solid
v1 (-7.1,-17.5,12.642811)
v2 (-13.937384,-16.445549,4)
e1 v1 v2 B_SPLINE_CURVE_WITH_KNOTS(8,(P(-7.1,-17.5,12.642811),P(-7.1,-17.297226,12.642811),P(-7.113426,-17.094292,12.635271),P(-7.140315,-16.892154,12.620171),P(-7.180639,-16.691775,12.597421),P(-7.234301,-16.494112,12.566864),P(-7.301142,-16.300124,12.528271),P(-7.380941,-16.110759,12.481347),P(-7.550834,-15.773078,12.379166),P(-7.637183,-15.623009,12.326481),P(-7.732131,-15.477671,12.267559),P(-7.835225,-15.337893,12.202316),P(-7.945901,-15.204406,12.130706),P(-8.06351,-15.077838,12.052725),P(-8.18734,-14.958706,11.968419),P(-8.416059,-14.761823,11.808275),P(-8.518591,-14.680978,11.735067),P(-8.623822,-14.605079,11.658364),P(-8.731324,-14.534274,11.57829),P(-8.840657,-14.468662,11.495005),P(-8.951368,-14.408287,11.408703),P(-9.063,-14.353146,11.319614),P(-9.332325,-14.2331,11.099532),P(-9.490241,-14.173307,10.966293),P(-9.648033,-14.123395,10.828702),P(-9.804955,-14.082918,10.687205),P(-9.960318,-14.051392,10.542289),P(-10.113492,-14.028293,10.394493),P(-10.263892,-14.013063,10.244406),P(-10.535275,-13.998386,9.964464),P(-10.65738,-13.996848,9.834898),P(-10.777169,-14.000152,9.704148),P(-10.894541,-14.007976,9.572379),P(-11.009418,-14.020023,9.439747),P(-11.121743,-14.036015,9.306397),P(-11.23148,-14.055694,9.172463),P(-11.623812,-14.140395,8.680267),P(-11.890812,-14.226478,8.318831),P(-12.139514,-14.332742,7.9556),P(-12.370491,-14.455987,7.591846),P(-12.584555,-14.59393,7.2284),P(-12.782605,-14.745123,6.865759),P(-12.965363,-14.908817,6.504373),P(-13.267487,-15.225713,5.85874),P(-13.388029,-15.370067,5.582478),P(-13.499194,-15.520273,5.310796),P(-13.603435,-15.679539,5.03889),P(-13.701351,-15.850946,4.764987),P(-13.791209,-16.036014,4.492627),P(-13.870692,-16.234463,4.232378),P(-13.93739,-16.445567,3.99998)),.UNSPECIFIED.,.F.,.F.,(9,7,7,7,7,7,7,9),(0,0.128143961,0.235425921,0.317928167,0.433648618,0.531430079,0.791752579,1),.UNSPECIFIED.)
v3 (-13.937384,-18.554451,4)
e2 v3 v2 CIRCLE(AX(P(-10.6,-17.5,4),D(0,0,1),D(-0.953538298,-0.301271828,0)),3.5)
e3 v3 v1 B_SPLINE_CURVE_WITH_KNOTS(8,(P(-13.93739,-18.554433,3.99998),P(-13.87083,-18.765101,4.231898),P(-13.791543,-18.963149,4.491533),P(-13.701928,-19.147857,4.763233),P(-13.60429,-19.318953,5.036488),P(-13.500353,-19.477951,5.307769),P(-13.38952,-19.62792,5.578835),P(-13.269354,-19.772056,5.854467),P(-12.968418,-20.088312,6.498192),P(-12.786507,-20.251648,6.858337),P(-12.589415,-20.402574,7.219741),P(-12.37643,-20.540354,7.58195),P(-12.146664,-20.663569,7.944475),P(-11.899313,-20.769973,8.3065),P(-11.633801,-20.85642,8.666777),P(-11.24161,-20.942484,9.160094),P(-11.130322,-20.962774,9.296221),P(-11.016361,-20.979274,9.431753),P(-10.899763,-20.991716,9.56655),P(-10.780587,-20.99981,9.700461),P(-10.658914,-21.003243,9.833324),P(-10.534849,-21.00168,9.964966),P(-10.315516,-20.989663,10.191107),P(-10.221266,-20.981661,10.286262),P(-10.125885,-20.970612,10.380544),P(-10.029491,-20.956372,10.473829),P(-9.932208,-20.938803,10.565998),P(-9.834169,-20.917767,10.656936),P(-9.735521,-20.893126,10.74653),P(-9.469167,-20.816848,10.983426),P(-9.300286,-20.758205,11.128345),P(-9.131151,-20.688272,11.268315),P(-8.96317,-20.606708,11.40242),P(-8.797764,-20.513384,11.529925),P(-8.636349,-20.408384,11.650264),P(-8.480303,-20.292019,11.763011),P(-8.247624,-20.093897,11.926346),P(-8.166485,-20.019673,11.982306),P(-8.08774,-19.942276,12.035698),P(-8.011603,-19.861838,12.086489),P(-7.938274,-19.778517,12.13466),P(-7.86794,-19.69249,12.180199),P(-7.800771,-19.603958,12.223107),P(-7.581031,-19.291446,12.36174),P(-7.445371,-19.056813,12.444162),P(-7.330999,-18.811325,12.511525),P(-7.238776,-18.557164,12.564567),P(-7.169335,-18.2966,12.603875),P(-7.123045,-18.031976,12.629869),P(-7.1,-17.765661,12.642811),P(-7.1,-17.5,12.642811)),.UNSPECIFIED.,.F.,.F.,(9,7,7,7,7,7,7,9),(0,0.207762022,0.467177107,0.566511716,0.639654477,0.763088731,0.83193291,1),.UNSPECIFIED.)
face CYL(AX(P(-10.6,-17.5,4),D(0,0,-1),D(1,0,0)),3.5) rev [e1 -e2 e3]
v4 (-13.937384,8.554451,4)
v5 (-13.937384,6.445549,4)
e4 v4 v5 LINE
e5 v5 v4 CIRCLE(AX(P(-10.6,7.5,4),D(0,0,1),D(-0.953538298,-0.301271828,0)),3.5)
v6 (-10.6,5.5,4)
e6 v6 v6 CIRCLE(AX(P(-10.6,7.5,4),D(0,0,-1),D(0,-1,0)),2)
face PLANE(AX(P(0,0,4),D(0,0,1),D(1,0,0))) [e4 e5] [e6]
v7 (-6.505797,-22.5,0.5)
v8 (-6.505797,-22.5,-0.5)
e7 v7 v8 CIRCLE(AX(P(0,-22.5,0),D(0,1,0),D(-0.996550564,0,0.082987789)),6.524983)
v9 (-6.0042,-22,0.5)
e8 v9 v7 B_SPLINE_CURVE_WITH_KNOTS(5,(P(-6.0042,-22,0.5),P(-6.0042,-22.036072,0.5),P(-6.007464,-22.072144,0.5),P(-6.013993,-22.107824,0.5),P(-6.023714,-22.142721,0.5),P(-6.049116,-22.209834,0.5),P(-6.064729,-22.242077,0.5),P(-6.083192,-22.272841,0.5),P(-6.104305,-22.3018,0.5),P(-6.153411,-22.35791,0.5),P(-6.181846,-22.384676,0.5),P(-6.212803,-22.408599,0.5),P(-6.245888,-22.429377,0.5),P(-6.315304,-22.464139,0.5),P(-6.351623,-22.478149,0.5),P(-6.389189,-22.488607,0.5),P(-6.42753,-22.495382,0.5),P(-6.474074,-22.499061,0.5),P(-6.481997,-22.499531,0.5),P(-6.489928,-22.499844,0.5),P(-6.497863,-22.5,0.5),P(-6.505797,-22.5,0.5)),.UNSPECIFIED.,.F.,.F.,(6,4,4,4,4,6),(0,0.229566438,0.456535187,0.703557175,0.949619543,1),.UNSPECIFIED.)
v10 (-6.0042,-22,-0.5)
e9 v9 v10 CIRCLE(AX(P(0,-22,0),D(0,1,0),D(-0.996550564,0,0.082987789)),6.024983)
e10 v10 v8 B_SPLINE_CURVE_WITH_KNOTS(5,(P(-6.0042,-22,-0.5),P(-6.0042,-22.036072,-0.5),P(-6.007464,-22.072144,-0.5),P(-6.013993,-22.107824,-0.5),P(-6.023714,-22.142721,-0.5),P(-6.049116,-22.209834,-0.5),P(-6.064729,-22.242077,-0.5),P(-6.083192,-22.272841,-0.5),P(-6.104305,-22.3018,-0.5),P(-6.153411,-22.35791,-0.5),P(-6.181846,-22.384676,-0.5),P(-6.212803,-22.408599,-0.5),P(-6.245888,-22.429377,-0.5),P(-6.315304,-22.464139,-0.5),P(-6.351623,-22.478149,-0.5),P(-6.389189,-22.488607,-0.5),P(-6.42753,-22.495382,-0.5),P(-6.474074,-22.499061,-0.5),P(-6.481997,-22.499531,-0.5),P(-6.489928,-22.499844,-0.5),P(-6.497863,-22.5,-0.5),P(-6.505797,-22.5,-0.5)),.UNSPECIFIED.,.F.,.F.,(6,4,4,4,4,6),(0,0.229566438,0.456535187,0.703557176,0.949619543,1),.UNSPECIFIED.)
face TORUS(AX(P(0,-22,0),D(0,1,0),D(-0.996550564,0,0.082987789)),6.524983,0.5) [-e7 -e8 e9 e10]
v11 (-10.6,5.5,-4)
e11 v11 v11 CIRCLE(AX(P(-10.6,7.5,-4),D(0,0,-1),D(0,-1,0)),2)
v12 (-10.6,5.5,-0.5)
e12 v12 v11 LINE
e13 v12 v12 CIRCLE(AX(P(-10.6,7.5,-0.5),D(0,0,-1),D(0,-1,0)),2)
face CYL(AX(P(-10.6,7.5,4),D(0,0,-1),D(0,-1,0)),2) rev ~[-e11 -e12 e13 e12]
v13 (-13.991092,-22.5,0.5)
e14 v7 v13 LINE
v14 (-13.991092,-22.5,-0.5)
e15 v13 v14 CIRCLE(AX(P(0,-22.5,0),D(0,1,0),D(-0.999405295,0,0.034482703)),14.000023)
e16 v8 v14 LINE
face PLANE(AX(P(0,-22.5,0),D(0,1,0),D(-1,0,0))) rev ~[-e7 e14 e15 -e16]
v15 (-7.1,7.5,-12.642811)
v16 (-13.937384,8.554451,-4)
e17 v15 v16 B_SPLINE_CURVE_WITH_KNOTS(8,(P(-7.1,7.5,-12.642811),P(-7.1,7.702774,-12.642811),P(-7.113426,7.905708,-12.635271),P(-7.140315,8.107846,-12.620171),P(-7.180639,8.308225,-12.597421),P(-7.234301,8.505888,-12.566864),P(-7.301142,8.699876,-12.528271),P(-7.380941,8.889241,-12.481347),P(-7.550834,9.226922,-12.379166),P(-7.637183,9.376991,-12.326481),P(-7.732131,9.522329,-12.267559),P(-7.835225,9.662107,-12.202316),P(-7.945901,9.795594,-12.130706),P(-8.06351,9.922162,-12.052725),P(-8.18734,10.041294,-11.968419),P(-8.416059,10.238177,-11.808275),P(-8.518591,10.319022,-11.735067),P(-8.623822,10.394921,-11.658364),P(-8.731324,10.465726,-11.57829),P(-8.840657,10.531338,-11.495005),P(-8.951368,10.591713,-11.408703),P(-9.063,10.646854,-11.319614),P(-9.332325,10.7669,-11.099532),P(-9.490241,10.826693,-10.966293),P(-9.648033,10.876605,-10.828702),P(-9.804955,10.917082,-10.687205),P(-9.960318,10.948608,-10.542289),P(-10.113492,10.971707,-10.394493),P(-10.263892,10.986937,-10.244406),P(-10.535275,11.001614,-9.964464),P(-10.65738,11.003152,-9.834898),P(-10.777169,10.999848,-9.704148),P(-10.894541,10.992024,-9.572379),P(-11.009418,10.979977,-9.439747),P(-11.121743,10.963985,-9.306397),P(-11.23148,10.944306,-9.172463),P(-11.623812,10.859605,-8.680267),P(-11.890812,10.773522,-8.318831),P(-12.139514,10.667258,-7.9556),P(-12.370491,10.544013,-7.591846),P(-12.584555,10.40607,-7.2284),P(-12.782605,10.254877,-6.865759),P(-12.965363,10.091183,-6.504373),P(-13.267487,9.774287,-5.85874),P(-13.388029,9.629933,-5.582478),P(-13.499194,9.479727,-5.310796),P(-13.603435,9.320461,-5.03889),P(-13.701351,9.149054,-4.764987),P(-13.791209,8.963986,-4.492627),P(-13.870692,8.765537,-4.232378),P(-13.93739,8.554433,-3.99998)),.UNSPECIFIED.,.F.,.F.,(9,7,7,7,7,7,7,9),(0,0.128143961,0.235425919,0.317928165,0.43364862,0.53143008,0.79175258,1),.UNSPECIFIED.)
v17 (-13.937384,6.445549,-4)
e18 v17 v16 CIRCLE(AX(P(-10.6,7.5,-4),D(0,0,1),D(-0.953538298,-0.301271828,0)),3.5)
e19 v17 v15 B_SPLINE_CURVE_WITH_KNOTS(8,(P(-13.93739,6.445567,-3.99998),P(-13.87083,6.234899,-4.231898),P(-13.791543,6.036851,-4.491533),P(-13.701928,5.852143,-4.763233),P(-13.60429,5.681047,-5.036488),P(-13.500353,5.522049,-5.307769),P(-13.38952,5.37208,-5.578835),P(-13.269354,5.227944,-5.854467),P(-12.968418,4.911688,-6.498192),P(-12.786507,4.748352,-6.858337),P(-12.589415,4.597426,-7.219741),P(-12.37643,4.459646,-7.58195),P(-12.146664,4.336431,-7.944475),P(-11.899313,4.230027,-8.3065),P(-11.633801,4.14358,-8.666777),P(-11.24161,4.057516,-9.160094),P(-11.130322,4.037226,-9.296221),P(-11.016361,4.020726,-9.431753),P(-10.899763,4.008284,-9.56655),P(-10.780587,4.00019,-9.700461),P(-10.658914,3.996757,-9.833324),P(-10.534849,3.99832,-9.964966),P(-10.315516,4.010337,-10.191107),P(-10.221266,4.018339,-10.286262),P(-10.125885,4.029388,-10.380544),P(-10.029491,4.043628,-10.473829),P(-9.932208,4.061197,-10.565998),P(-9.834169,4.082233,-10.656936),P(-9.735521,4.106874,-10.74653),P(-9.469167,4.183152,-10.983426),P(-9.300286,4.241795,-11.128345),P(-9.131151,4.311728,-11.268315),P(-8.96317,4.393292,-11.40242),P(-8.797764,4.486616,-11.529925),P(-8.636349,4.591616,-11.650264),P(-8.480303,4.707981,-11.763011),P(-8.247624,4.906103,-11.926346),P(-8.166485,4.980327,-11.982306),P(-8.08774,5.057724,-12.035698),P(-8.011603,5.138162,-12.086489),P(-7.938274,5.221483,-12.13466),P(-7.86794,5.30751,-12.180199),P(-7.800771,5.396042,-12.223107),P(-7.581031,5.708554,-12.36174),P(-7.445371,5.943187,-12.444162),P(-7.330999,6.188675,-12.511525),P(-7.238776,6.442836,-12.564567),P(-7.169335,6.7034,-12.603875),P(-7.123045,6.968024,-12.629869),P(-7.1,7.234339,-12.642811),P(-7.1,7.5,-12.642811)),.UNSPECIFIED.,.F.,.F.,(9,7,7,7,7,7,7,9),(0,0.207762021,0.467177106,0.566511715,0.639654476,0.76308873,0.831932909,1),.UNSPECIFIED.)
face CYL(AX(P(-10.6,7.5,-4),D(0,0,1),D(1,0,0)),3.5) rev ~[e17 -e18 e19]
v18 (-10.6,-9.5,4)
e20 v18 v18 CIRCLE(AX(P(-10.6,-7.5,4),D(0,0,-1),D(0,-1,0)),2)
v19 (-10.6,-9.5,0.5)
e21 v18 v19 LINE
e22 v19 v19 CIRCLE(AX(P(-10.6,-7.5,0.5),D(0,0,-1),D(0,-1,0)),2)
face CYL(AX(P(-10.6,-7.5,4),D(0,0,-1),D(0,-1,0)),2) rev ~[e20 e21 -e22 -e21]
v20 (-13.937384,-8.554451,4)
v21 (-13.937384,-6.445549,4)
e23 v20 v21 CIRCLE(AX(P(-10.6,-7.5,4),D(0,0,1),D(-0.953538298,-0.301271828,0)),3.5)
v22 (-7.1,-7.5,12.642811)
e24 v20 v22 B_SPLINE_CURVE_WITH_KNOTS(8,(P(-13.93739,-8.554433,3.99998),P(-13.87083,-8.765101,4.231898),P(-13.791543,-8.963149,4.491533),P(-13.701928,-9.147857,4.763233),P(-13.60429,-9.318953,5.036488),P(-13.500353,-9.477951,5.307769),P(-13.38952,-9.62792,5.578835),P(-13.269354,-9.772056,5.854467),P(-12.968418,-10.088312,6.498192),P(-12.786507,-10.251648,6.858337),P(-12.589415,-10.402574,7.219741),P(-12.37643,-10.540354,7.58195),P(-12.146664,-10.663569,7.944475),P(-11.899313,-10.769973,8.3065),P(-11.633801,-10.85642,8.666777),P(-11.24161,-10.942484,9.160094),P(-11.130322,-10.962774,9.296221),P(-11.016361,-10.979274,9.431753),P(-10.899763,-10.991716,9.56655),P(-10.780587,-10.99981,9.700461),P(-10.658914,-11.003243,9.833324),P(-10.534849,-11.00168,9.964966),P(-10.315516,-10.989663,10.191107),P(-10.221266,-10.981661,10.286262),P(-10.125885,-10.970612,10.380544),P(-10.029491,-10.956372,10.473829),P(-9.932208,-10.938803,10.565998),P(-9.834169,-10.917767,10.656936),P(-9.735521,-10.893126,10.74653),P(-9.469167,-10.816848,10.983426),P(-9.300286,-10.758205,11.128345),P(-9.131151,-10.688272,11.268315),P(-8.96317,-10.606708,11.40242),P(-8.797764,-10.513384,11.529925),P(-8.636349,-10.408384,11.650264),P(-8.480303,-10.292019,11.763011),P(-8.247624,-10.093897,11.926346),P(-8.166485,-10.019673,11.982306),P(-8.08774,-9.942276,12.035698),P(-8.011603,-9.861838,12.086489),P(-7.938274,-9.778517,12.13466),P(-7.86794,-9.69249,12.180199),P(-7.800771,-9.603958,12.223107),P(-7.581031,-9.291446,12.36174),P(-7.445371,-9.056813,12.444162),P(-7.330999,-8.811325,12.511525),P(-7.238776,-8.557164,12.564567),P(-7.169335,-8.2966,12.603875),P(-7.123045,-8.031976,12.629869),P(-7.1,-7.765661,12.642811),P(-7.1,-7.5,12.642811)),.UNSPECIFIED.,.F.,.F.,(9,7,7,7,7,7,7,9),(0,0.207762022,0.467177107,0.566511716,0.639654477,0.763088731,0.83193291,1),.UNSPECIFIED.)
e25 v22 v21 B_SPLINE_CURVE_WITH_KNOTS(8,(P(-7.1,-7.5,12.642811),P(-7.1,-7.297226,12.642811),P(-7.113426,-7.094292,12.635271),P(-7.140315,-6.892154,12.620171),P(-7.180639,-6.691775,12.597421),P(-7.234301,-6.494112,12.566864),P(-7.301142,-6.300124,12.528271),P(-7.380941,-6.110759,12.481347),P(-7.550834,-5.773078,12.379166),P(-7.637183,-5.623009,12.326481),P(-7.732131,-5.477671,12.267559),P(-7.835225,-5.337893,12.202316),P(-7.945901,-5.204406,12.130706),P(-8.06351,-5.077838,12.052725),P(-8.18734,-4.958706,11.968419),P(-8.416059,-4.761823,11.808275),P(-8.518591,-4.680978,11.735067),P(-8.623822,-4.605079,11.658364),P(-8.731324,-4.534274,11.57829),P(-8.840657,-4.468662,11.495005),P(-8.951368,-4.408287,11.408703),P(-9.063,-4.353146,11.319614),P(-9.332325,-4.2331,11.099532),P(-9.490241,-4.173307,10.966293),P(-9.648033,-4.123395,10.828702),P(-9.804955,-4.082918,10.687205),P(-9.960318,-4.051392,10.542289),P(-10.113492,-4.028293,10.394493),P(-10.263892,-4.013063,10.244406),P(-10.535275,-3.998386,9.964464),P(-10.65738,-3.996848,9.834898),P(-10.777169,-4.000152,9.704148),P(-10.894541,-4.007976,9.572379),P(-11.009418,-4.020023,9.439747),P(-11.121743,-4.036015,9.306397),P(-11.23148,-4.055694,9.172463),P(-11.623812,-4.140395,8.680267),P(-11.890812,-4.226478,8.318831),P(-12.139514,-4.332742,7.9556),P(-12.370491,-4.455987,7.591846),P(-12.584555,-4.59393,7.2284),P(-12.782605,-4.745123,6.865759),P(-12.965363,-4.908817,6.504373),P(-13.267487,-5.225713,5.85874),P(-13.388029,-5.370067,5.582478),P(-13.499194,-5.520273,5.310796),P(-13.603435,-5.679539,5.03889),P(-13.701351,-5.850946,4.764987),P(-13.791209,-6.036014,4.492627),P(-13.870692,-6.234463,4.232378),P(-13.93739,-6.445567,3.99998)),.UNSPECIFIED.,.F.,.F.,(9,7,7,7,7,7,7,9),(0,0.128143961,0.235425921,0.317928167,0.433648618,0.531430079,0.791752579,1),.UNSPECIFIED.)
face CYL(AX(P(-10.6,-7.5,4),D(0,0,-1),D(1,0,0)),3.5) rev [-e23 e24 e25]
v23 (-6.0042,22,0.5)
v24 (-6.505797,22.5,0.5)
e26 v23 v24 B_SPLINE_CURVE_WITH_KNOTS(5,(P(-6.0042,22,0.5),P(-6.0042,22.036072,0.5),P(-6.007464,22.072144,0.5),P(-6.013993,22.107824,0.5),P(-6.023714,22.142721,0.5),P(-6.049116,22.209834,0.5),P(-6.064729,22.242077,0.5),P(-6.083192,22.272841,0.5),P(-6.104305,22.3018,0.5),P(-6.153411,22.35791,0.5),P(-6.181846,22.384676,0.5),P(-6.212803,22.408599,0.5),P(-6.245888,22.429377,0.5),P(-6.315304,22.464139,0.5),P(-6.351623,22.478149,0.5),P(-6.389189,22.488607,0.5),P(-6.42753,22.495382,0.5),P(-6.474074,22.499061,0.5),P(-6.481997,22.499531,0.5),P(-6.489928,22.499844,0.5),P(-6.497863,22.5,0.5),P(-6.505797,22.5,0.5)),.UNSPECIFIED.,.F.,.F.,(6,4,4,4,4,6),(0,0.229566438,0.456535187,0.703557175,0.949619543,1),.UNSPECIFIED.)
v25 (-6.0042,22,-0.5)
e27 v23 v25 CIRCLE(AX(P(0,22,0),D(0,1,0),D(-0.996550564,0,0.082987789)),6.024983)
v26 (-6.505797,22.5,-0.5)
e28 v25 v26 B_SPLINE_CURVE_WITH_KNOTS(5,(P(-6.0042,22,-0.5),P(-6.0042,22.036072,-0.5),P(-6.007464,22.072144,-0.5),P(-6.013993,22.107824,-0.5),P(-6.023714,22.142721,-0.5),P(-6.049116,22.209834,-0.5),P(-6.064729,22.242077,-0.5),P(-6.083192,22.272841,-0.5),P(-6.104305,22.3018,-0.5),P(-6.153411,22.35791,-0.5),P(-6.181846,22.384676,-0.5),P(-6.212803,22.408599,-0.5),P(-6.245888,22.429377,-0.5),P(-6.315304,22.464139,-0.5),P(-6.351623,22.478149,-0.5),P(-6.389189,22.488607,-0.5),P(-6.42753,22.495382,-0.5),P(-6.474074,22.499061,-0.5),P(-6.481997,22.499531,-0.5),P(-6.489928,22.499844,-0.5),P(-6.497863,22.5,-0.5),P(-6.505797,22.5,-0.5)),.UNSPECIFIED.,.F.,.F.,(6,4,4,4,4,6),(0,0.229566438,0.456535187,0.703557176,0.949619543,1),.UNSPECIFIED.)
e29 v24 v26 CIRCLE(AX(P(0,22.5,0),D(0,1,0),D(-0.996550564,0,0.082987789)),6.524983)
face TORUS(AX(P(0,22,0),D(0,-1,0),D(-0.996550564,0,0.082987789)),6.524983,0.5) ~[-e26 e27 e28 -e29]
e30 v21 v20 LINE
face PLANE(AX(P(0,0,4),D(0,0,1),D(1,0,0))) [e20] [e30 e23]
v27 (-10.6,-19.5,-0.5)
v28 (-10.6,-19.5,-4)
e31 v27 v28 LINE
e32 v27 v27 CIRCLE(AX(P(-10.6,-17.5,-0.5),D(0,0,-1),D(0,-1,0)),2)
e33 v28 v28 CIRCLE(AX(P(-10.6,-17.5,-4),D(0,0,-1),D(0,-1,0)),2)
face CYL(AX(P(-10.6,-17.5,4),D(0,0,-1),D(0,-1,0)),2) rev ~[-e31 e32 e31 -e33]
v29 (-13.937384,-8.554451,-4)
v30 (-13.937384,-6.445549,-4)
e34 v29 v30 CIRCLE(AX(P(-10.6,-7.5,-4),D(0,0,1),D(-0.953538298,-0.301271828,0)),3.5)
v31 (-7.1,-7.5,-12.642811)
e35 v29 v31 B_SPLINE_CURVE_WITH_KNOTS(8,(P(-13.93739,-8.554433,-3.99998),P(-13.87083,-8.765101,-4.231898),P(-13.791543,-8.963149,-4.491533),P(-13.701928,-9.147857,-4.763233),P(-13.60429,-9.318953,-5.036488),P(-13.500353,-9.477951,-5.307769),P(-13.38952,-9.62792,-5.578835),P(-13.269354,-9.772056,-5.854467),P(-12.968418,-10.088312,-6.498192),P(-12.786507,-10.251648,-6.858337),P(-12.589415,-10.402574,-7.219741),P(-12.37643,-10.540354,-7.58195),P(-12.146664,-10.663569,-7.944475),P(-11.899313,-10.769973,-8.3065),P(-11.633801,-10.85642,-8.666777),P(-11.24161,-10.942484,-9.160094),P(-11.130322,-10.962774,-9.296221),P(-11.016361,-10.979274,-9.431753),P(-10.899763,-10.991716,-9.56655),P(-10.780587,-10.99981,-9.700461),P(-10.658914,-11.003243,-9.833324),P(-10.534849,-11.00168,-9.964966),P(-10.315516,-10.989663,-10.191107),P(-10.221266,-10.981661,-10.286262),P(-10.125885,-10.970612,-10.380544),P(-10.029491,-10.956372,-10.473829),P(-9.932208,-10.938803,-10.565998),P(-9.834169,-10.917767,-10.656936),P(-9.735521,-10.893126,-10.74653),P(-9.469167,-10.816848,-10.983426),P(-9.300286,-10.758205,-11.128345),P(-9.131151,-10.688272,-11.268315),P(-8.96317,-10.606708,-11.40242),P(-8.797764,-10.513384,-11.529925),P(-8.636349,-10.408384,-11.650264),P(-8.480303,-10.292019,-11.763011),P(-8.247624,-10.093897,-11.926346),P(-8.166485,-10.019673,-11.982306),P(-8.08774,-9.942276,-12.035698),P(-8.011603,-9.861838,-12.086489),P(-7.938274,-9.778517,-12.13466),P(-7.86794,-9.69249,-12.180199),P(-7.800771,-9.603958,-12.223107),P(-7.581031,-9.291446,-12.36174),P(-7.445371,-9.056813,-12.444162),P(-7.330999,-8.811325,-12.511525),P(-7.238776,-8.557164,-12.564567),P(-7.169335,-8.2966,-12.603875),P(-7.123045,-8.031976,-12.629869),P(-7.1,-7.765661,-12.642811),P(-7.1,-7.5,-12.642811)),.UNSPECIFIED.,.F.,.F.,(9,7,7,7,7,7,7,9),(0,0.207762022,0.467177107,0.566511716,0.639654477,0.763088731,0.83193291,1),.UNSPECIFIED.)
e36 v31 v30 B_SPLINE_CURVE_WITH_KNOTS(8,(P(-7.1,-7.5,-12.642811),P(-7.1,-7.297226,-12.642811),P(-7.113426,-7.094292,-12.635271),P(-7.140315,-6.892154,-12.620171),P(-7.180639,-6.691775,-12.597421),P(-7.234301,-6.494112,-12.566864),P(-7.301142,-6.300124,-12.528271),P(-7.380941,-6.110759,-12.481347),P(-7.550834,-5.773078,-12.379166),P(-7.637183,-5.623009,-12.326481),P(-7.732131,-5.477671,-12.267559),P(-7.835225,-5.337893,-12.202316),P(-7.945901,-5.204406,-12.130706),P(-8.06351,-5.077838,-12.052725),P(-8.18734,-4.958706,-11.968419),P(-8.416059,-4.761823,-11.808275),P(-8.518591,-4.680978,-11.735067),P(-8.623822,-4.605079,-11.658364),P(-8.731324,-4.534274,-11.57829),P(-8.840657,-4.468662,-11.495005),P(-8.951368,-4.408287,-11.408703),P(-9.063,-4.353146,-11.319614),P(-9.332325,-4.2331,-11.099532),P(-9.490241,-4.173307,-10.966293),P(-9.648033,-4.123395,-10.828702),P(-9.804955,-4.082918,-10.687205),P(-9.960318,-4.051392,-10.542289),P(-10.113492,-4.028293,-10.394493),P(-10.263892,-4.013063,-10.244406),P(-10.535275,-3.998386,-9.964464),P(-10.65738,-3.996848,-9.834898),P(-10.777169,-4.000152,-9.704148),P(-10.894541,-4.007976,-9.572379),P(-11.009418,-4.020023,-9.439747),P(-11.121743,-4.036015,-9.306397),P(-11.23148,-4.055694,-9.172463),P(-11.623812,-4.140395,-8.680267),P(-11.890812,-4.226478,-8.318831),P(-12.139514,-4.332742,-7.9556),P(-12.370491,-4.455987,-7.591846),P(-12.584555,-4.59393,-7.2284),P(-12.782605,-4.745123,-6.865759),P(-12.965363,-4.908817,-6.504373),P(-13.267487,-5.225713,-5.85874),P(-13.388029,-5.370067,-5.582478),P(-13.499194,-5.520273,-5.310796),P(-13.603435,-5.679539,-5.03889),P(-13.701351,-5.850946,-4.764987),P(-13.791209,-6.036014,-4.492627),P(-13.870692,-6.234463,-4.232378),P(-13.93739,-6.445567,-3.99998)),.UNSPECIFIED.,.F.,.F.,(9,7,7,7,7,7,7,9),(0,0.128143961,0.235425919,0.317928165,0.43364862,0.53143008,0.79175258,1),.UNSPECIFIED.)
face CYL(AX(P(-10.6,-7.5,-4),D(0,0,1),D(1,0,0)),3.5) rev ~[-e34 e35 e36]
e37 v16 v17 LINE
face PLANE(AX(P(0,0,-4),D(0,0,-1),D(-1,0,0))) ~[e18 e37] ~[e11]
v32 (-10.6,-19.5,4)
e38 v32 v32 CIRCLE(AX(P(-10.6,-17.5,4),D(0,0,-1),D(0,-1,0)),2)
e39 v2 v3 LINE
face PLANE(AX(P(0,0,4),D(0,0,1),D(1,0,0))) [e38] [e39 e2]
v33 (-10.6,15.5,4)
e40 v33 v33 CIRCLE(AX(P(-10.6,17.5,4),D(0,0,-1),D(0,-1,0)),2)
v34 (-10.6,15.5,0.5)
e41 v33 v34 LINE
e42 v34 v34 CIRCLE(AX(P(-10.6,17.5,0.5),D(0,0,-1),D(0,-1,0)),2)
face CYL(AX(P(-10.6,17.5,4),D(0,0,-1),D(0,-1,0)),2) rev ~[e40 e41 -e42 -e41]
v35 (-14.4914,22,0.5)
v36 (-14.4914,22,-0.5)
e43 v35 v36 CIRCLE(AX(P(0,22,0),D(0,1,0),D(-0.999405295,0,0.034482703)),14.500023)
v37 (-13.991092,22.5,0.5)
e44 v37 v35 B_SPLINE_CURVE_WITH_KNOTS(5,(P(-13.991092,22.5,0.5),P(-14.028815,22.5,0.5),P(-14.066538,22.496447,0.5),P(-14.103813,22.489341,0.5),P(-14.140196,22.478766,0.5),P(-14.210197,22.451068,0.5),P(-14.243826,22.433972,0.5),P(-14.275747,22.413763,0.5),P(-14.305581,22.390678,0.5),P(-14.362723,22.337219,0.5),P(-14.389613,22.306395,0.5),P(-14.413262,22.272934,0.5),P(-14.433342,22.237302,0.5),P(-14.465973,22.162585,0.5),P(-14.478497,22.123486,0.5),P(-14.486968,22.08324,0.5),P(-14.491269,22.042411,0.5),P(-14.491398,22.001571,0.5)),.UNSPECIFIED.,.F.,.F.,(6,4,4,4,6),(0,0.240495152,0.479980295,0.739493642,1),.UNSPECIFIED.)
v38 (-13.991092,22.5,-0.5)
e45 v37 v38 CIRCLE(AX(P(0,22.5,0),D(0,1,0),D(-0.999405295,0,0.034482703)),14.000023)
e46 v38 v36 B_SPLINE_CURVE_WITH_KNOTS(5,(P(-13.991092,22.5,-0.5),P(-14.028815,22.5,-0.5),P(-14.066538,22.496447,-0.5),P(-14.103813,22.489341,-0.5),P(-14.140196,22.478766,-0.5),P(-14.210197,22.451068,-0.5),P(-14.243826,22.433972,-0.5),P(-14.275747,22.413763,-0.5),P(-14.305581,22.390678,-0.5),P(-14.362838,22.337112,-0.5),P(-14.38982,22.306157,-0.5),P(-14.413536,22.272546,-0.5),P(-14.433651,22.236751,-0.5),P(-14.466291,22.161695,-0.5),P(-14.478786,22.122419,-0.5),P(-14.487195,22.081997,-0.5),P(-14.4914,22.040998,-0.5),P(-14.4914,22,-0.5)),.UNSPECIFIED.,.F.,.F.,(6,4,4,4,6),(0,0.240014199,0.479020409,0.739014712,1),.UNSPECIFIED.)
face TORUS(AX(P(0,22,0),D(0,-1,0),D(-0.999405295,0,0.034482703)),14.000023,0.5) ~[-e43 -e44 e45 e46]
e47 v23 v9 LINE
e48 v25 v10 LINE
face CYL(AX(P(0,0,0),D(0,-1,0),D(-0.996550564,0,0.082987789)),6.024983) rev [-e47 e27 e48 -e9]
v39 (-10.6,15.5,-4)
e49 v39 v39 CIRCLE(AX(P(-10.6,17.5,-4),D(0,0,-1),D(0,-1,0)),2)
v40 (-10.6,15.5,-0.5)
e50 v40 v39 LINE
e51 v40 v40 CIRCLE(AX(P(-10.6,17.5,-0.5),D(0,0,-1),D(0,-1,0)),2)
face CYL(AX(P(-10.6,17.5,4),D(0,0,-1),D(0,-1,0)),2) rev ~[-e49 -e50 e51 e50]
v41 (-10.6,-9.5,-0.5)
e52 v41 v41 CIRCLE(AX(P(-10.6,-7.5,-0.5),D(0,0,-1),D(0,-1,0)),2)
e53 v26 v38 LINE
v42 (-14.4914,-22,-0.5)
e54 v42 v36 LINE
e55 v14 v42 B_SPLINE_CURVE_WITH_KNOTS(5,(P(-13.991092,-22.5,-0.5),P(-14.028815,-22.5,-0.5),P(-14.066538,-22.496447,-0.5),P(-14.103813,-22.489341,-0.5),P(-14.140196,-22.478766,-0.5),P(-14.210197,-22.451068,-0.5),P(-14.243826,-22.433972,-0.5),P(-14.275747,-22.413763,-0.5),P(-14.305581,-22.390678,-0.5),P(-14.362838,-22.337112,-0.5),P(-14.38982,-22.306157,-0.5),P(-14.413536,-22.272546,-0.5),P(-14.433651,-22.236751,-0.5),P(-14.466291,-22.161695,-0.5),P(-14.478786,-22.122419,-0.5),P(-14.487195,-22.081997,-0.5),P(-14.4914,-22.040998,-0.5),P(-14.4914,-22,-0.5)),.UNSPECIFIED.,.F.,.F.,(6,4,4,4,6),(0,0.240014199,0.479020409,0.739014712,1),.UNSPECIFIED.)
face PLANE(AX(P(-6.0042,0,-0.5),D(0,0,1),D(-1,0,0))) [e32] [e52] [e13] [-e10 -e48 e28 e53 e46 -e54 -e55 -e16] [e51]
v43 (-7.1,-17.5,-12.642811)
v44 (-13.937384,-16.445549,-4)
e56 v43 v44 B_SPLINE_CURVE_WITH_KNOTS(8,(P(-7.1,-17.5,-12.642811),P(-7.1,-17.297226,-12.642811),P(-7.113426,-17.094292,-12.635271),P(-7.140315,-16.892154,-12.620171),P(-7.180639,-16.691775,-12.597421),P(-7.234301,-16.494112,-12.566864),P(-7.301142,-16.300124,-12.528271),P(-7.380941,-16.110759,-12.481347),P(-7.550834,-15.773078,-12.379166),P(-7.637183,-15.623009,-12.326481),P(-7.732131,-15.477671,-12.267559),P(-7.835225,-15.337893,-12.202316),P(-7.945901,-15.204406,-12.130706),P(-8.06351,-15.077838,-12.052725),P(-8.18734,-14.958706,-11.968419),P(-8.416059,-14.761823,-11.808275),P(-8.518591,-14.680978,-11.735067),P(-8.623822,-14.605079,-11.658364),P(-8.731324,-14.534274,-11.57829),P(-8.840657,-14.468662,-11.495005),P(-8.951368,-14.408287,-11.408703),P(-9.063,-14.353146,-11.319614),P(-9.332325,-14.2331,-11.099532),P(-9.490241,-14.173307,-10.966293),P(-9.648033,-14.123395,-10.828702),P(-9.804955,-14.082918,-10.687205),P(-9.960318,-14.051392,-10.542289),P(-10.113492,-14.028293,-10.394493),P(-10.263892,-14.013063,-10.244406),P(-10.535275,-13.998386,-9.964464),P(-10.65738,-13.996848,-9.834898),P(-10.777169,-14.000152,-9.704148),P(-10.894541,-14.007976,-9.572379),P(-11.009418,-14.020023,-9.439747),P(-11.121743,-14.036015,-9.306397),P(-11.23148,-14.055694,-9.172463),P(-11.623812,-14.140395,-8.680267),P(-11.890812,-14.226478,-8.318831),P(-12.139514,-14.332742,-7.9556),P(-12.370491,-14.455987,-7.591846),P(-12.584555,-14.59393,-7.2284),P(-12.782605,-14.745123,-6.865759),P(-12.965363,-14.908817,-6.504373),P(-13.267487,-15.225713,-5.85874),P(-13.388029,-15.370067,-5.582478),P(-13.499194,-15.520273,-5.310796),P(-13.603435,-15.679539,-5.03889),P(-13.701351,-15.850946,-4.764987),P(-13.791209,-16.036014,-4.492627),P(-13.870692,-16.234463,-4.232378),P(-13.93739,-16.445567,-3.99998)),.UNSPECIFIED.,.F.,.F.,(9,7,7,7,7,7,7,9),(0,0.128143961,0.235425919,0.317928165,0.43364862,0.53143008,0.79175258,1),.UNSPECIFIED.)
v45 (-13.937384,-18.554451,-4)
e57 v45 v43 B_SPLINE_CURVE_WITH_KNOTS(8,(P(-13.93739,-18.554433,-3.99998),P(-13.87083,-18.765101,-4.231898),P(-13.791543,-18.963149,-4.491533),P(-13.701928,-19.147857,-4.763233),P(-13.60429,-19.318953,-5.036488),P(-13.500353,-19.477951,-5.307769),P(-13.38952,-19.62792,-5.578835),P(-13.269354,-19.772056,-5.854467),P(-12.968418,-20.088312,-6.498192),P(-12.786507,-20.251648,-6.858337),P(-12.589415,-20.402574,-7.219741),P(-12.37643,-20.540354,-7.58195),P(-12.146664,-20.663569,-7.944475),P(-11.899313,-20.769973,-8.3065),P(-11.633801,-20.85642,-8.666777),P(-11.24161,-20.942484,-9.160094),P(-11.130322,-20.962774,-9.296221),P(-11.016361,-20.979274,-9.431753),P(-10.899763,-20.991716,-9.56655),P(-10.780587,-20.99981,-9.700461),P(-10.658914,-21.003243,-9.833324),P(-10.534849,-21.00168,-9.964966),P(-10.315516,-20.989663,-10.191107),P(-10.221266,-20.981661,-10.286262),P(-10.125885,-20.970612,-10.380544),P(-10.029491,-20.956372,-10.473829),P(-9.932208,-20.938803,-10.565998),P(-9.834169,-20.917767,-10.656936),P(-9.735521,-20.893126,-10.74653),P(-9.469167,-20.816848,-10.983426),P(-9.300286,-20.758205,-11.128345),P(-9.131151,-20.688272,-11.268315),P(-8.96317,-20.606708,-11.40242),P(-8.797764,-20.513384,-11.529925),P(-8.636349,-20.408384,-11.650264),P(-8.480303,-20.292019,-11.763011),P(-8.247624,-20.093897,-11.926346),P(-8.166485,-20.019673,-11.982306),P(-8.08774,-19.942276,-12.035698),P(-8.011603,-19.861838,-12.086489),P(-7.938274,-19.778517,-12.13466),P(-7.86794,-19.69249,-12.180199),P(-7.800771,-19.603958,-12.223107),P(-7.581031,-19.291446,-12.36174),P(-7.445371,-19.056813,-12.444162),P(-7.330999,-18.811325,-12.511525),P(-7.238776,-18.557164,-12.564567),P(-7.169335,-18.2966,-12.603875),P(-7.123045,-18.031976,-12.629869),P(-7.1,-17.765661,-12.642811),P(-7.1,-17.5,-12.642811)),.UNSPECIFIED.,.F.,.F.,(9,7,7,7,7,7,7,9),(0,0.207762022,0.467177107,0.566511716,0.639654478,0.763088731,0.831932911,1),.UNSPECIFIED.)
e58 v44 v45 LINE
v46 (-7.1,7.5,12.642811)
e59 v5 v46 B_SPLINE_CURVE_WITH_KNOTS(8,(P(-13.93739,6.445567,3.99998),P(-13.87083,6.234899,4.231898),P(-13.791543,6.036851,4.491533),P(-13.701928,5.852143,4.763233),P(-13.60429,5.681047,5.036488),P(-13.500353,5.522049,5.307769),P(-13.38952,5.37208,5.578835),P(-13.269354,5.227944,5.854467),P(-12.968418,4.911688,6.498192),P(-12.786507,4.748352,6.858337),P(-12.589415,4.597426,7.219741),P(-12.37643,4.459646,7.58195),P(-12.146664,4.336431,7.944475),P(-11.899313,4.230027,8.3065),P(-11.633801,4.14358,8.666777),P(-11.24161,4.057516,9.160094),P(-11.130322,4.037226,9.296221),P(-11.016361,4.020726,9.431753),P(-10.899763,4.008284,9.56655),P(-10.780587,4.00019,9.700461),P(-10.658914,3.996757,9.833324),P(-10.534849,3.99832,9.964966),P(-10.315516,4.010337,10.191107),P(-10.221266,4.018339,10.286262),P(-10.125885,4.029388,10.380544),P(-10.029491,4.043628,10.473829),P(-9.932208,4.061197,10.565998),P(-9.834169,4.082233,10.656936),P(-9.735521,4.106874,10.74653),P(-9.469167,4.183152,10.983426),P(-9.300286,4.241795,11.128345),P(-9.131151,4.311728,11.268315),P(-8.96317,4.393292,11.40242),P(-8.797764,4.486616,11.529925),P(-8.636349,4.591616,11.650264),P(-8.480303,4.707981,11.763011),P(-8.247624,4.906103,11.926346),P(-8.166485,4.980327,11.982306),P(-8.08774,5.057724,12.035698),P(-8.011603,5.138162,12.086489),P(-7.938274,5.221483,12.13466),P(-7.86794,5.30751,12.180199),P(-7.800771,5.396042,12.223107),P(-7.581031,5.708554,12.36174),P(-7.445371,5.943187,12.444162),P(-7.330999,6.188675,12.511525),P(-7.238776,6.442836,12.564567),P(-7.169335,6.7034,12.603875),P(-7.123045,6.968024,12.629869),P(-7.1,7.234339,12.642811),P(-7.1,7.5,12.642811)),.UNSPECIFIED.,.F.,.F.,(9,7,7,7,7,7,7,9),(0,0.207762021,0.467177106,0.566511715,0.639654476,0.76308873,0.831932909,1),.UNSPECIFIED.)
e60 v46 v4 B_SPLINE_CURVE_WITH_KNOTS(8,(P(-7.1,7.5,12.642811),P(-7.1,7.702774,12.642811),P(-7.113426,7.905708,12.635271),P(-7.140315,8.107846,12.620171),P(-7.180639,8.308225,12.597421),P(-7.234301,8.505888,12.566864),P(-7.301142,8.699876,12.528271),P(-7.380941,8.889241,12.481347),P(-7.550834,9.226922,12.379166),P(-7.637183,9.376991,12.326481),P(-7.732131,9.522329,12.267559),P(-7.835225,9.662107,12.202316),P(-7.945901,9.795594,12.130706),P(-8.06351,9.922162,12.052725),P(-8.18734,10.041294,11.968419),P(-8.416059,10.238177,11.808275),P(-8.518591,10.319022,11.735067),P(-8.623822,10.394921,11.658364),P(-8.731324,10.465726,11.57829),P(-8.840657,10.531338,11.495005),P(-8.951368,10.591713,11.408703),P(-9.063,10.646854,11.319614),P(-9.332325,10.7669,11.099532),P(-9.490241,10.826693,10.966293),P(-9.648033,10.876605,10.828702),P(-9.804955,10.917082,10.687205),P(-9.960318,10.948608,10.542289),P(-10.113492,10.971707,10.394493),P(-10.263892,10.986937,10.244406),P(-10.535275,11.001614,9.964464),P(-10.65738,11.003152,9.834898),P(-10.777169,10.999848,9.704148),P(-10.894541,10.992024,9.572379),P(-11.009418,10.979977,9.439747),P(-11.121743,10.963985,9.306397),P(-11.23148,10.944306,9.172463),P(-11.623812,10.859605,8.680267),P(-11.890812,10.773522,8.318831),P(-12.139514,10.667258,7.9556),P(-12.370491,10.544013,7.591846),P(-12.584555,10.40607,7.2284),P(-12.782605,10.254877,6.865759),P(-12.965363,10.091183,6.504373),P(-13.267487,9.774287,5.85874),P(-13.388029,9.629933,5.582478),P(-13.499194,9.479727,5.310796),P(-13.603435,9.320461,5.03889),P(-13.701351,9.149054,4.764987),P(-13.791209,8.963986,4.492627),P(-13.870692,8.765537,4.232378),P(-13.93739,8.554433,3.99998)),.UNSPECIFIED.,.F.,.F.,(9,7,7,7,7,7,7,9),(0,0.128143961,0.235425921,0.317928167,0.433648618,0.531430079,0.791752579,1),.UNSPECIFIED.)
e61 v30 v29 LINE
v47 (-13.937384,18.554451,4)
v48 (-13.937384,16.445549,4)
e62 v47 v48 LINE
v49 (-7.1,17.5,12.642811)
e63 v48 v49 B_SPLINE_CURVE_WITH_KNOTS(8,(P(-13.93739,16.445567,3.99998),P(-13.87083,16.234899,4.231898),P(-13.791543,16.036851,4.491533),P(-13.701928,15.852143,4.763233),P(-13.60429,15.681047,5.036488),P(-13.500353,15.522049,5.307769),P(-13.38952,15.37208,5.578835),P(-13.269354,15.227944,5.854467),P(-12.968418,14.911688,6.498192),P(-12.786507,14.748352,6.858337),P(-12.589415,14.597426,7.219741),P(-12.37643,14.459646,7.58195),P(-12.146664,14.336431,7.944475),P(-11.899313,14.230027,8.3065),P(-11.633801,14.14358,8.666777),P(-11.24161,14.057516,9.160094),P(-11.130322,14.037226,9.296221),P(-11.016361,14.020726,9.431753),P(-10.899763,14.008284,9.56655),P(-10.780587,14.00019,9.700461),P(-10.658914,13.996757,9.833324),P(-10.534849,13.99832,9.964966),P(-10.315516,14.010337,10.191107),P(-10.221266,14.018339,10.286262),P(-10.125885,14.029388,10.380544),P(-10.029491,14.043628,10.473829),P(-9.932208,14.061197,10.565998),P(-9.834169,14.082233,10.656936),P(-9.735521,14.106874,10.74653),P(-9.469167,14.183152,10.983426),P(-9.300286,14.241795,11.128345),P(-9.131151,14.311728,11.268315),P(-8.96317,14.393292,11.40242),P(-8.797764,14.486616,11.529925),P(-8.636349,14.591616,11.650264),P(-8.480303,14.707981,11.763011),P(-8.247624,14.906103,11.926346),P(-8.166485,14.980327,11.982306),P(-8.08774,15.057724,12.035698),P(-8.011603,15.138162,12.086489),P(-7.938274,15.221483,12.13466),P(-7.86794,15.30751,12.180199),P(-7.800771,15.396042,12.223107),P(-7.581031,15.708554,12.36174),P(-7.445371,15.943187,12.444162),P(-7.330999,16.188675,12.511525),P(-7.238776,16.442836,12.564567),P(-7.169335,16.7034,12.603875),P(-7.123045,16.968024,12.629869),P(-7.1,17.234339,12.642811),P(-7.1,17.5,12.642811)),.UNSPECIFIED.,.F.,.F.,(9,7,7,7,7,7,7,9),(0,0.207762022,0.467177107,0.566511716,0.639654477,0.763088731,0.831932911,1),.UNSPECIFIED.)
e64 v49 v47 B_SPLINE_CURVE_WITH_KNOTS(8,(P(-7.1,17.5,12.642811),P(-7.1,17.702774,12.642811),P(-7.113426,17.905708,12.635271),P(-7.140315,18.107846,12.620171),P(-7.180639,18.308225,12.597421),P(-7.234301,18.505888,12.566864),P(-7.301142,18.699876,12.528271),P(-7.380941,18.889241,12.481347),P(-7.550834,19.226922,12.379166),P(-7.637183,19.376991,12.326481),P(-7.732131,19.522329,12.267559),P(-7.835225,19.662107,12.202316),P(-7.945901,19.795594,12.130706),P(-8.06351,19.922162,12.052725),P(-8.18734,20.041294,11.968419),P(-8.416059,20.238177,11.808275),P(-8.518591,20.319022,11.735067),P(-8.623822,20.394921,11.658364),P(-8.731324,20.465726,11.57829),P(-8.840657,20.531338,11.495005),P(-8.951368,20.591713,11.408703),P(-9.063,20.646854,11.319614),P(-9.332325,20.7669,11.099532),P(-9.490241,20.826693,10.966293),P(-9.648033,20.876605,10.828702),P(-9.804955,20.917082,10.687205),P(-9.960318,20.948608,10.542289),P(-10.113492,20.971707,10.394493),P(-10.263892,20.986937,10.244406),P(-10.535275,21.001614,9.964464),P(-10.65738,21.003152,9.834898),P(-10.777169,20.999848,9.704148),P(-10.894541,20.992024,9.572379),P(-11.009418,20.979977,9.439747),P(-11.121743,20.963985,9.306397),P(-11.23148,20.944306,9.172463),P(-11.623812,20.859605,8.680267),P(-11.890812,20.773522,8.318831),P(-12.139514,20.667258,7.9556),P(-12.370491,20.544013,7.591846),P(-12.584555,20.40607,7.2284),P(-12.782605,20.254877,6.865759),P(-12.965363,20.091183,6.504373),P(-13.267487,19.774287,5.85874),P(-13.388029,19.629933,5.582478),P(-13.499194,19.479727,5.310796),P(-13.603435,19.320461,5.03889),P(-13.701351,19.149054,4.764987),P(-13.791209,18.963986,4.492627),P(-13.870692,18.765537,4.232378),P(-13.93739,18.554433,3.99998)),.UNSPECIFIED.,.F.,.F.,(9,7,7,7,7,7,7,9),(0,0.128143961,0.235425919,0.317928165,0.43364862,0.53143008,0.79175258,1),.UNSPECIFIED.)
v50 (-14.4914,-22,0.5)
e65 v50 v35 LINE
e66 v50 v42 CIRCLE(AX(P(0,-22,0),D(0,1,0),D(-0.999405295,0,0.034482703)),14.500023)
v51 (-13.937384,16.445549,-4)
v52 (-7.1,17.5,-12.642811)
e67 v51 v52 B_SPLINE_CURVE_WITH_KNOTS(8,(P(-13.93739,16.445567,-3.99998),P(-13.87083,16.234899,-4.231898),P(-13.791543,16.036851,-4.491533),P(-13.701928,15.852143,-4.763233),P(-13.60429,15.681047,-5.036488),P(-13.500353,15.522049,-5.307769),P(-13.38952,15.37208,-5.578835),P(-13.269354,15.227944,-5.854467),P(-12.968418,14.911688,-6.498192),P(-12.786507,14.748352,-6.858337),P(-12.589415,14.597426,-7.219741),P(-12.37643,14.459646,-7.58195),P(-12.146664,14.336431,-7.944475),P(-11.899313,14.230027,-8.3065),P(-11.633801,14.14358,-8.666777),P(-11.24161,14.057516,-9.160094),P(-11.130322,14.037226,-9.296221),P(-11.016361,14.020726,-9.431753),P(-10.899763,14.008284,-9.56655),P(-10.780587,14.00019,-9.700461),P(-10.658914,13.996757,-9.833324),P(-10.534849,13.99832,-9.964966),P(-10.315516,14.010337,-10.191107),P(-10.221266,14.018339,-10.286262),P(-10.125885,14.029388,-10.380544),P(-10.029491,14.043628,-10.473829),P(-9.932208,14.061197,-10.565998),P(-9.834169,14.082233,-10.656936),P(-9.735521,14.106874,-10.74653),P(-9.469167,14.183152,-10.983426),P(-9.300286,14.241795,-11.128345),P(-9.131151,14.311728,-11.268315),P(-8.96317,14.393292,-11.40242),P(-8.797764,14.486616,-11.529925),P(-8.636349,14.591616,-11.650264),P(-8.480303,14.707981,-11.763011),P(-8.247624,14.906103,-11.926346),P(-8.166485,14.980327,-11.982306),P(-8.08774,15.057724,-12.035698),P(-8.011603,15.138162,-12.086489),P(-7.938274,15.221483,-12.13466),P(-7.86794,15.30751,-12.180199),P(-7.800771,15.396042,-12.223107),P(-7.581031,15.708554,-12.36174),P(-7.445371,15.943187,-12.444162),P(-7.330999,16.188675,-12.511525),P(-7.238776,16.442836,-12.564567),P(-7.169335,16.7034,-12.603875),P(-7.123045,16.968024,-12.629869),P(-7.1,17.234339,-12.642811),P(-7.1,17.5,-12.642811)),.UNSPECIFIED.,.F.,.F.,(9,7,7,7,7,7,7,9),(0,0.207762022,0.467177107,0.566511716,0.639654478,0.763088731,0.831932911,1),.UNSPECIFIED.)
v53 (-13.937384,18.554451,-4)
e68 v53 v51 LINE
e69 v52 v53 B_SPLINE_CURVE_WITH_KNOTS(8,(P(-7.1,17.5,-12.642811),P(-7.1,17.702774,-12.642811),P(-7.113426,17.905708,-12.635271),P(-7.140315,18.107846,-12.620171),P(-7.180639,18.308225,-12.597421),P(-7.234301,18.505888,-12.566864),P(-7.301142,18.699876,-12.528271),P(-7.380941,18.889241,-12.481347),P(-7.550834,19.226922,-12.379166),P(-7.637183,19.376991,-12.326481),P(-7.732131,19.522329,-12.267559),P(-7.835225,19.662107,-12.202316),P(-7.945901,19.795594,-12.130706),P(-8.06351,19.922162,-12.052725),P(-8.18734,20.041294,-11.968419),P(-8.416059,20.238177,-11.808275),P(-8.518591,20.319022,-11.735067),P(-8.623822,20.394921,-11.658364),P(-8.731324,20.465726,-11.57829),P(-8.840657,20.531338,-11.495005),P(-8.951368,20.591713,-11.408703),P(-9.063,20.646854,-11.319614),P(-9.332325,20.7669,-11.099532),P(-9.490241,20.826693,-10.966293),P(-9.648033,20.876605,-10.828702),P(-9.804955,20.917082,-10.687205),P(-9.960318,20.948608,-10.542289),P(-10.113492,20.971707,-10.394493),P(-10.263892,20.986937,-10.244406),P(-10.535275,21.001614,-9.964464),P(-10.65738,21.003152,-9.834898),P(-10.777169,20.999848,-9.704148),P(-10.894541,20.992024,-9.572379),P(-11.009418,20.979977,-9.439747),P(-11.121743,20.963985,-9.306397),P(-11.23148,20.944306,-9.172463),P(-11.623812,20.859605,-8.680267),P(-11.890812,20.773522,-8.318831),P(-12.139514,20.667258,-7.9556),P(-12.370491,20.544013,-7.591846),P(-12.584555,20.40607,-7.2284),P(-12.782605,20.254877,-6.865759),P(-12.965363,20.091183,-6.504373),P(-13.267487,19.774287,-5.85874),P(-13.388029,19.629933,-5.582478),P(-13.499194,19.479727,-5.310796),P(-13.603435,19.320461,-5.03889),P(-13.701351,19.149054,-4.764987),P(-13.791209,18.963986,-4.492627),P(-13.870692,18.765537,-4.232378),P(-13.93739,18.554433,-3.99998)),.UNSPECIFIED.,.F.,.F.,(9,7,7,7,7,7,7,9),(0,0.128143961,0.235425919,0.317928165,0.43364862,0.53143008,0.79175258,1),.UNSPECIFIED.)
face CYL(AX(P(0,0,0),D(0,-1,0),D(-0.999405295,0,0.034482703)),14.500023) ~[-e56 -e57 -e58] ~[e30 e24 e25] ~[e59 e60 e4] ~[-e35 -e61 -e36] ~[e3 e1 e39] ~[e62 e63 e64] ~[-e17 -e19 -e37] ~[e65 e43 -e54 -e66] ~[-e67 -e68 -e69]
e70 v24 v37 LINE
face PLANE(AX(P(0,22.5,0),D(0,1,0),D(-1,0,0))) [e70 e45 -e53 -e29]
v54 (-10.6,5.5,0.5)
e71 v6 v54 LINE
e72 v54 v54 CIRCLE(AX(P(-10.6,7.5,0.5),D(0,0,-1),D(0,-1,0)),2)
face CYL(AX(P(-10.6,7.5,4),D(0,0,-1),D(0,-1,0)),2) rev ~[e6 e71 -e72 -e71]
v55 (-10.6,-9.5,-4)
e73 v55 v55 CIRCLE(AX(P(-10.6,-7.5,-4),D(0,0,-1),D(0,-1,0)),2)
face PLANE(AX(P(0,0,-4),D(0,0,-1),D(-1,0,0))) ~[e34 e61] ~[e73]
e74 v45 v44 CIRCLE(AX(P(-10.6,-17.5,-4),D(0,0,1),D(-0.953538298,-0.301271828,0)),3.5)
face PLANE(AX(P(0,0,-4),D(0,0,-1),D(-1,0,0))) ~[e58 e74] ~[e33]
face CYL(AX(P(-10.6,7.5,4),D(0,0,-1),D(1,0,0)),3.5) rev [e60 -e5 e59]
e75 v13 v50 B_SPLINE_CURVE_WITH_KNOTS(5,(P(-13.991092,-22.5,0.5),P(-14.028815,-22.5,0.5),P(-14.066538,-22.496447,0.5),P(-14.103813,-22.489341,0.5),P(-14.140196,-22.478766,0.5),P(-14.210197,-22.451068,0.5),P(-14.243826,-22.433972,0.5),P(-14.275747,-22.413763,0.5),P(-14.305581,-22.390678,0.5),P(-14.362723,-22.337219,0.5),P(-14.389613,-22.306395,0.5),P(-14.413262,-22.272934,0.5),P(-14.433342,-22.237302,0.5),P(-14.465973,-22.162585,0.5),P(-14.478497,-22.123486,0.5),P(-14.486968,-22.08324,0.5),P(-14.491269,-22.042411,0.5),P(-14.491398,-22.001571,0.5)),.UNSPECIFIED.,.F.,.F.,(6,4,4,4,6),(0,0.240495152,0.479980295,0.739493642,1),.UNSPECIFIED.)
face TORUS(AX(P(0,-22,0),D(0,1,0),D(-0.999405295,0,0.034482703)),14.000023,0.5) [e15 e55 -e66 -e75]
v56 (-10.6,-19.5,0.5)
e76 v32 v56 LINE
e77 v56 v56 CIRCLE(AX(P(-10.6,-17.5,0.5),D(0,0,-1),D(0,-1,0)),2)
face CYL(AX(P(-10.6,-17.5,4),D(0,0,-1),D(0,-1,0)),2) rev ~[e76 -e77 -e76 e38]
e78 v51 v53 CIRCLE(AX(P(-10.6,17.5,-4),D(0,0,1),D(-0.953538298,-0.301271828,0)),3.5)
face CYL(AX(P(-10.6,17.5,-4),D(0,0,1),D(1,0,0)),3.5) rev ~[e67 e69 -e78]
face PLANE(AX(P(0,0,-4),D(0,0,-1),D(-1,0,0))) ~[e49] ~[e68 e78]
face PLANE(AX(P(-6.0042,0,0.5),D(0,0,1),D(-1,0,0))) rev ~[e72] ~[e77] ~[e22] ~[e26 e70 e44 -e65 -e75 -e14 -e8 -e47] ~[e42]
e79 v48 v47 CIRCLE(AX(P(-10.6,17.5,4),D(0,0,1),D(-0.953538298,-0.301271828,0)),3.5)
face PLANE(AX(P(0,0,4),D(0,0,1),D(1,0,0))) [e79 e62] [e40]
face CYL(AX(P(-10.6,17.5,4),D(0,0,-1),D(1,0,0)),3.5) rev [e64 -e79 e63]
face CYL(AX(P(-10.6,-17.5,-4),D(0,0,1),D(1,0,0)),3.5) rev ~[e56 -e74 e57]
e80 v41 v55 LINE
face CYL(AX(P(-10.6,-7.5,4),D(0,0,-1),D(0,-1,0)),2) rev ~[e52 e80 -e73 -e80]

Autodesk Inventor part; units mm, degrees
ref_plane "YZ Plane" through (0, 0, 0) normal (1, 0, 0) x (0, 1, 0)
ref_plane "XZ Plane" through (0, 0, 0) normal (0, 1, 0) x (-1, 0, 0)
sketch "Sketch1" plane through (0, 0, 0) normal (0, 1, 0) x (-1, 0, 0)
  arc A0 (14.4914, 0.5) -> (14.4914, -0.5) centre (0, 0) ccw
  arc A1 (6.0042, 0.5) -> (6.0042, -0.5) centre (0, 0) ccw
  line L0 (6.0042, 0.5) -> (14.4914, 0.5)
  line L1 (6.0042, -0.5) -> (14.4914, -0.5)
  dimension "d0" = 29
  dimension "d1" = 12.05
  dimension "d3" = 1
  dimension "d4" = 0.5
extrude "Extrusion1" add sketch "Sketch1" along normal mid plane 45
ref_plane "Work Plane1" through (0, 0, 4) normal (0, 0, 1) x (1, 0, 0)
sketch "Sketch4" plane through (0, 0, 4) normal (0, 0, 1) x (1, 0, 0)
  line L0 (0, 0) -> (0, 40) construction
  line L1 (-14.4914, -22.5) -> (14.5, -22.5) construction
  line L2 (14.5, 22.5) -> (-14.4914, 22.5) construction
  circle A0 centre (-10.6, 17.5) radius 3.5
  circle A1 centre (-10.6, -17.5) radius 3.5
  line L3 (-10.6, 17.5) -> (-10.6, -17.5) construction
  circle A2 centre (-10.6, -7.5) radius 3.5
  circle A3 centre (-10.6, 7.5) radius 3.5
  dimension "d24" = 40
  dimension "d25" = 7
  dimension "d26" = 5
  dimension "d28" = 7
  dimension "d29" = 5
  dimension "d30" = 7
  dimension "d31" = 7
  dimension "d32" = 10
  dimension "d33" = 10
  dimension "d34" = 10.6
extrude "Extrusion3" cut sketch "Sketch4" along normal blind 45
mirror "Mirror1" about plane through (0, 0, 0) normal (0, 0, 1) of "Extrusion3"
sketch "Sketch5" plane through (0, 0, 4) normal (0, 0, 1) x (1, 0, 0)
  arc A0 (-13.9374, 6.4455) -> (-13.9374, 8.5545) centre (-10.6, 7.5) ccw construction
  arc A1 (-13.9374, -8.5545) -> (-13.9374, -6.4455) centre (-10.6, -7.5) ccw construction
  arc A2 (-13.9374, -18.5545) -> (-13.9374, -16.4455) centre (-10.6, -17.5) ccw construction
  arc A3 (-13.9374, 16.4455) -> (-13.9374, 18.5545) centre (-10.6, 17.5) ccw construction
  point P0 (0, 0)
hole "Hole1" at (-10.6, 17.5, 4) at (-10.6, 7.5, 4) at (-10.6, -7.5, 4) at (-10.6, -17.5, 4) direction (0, 0, -1) diameter 4 end through all
fillet "Fillet1" radius 0.5 4 edges at (14.5, 22.5, 0) (14.5, -22.5, 0) (6.025, 22.5, 0) (6.025, -22.5, 0)
properties part number "MCLX-12-12-F" material "Steel, Carbon"
